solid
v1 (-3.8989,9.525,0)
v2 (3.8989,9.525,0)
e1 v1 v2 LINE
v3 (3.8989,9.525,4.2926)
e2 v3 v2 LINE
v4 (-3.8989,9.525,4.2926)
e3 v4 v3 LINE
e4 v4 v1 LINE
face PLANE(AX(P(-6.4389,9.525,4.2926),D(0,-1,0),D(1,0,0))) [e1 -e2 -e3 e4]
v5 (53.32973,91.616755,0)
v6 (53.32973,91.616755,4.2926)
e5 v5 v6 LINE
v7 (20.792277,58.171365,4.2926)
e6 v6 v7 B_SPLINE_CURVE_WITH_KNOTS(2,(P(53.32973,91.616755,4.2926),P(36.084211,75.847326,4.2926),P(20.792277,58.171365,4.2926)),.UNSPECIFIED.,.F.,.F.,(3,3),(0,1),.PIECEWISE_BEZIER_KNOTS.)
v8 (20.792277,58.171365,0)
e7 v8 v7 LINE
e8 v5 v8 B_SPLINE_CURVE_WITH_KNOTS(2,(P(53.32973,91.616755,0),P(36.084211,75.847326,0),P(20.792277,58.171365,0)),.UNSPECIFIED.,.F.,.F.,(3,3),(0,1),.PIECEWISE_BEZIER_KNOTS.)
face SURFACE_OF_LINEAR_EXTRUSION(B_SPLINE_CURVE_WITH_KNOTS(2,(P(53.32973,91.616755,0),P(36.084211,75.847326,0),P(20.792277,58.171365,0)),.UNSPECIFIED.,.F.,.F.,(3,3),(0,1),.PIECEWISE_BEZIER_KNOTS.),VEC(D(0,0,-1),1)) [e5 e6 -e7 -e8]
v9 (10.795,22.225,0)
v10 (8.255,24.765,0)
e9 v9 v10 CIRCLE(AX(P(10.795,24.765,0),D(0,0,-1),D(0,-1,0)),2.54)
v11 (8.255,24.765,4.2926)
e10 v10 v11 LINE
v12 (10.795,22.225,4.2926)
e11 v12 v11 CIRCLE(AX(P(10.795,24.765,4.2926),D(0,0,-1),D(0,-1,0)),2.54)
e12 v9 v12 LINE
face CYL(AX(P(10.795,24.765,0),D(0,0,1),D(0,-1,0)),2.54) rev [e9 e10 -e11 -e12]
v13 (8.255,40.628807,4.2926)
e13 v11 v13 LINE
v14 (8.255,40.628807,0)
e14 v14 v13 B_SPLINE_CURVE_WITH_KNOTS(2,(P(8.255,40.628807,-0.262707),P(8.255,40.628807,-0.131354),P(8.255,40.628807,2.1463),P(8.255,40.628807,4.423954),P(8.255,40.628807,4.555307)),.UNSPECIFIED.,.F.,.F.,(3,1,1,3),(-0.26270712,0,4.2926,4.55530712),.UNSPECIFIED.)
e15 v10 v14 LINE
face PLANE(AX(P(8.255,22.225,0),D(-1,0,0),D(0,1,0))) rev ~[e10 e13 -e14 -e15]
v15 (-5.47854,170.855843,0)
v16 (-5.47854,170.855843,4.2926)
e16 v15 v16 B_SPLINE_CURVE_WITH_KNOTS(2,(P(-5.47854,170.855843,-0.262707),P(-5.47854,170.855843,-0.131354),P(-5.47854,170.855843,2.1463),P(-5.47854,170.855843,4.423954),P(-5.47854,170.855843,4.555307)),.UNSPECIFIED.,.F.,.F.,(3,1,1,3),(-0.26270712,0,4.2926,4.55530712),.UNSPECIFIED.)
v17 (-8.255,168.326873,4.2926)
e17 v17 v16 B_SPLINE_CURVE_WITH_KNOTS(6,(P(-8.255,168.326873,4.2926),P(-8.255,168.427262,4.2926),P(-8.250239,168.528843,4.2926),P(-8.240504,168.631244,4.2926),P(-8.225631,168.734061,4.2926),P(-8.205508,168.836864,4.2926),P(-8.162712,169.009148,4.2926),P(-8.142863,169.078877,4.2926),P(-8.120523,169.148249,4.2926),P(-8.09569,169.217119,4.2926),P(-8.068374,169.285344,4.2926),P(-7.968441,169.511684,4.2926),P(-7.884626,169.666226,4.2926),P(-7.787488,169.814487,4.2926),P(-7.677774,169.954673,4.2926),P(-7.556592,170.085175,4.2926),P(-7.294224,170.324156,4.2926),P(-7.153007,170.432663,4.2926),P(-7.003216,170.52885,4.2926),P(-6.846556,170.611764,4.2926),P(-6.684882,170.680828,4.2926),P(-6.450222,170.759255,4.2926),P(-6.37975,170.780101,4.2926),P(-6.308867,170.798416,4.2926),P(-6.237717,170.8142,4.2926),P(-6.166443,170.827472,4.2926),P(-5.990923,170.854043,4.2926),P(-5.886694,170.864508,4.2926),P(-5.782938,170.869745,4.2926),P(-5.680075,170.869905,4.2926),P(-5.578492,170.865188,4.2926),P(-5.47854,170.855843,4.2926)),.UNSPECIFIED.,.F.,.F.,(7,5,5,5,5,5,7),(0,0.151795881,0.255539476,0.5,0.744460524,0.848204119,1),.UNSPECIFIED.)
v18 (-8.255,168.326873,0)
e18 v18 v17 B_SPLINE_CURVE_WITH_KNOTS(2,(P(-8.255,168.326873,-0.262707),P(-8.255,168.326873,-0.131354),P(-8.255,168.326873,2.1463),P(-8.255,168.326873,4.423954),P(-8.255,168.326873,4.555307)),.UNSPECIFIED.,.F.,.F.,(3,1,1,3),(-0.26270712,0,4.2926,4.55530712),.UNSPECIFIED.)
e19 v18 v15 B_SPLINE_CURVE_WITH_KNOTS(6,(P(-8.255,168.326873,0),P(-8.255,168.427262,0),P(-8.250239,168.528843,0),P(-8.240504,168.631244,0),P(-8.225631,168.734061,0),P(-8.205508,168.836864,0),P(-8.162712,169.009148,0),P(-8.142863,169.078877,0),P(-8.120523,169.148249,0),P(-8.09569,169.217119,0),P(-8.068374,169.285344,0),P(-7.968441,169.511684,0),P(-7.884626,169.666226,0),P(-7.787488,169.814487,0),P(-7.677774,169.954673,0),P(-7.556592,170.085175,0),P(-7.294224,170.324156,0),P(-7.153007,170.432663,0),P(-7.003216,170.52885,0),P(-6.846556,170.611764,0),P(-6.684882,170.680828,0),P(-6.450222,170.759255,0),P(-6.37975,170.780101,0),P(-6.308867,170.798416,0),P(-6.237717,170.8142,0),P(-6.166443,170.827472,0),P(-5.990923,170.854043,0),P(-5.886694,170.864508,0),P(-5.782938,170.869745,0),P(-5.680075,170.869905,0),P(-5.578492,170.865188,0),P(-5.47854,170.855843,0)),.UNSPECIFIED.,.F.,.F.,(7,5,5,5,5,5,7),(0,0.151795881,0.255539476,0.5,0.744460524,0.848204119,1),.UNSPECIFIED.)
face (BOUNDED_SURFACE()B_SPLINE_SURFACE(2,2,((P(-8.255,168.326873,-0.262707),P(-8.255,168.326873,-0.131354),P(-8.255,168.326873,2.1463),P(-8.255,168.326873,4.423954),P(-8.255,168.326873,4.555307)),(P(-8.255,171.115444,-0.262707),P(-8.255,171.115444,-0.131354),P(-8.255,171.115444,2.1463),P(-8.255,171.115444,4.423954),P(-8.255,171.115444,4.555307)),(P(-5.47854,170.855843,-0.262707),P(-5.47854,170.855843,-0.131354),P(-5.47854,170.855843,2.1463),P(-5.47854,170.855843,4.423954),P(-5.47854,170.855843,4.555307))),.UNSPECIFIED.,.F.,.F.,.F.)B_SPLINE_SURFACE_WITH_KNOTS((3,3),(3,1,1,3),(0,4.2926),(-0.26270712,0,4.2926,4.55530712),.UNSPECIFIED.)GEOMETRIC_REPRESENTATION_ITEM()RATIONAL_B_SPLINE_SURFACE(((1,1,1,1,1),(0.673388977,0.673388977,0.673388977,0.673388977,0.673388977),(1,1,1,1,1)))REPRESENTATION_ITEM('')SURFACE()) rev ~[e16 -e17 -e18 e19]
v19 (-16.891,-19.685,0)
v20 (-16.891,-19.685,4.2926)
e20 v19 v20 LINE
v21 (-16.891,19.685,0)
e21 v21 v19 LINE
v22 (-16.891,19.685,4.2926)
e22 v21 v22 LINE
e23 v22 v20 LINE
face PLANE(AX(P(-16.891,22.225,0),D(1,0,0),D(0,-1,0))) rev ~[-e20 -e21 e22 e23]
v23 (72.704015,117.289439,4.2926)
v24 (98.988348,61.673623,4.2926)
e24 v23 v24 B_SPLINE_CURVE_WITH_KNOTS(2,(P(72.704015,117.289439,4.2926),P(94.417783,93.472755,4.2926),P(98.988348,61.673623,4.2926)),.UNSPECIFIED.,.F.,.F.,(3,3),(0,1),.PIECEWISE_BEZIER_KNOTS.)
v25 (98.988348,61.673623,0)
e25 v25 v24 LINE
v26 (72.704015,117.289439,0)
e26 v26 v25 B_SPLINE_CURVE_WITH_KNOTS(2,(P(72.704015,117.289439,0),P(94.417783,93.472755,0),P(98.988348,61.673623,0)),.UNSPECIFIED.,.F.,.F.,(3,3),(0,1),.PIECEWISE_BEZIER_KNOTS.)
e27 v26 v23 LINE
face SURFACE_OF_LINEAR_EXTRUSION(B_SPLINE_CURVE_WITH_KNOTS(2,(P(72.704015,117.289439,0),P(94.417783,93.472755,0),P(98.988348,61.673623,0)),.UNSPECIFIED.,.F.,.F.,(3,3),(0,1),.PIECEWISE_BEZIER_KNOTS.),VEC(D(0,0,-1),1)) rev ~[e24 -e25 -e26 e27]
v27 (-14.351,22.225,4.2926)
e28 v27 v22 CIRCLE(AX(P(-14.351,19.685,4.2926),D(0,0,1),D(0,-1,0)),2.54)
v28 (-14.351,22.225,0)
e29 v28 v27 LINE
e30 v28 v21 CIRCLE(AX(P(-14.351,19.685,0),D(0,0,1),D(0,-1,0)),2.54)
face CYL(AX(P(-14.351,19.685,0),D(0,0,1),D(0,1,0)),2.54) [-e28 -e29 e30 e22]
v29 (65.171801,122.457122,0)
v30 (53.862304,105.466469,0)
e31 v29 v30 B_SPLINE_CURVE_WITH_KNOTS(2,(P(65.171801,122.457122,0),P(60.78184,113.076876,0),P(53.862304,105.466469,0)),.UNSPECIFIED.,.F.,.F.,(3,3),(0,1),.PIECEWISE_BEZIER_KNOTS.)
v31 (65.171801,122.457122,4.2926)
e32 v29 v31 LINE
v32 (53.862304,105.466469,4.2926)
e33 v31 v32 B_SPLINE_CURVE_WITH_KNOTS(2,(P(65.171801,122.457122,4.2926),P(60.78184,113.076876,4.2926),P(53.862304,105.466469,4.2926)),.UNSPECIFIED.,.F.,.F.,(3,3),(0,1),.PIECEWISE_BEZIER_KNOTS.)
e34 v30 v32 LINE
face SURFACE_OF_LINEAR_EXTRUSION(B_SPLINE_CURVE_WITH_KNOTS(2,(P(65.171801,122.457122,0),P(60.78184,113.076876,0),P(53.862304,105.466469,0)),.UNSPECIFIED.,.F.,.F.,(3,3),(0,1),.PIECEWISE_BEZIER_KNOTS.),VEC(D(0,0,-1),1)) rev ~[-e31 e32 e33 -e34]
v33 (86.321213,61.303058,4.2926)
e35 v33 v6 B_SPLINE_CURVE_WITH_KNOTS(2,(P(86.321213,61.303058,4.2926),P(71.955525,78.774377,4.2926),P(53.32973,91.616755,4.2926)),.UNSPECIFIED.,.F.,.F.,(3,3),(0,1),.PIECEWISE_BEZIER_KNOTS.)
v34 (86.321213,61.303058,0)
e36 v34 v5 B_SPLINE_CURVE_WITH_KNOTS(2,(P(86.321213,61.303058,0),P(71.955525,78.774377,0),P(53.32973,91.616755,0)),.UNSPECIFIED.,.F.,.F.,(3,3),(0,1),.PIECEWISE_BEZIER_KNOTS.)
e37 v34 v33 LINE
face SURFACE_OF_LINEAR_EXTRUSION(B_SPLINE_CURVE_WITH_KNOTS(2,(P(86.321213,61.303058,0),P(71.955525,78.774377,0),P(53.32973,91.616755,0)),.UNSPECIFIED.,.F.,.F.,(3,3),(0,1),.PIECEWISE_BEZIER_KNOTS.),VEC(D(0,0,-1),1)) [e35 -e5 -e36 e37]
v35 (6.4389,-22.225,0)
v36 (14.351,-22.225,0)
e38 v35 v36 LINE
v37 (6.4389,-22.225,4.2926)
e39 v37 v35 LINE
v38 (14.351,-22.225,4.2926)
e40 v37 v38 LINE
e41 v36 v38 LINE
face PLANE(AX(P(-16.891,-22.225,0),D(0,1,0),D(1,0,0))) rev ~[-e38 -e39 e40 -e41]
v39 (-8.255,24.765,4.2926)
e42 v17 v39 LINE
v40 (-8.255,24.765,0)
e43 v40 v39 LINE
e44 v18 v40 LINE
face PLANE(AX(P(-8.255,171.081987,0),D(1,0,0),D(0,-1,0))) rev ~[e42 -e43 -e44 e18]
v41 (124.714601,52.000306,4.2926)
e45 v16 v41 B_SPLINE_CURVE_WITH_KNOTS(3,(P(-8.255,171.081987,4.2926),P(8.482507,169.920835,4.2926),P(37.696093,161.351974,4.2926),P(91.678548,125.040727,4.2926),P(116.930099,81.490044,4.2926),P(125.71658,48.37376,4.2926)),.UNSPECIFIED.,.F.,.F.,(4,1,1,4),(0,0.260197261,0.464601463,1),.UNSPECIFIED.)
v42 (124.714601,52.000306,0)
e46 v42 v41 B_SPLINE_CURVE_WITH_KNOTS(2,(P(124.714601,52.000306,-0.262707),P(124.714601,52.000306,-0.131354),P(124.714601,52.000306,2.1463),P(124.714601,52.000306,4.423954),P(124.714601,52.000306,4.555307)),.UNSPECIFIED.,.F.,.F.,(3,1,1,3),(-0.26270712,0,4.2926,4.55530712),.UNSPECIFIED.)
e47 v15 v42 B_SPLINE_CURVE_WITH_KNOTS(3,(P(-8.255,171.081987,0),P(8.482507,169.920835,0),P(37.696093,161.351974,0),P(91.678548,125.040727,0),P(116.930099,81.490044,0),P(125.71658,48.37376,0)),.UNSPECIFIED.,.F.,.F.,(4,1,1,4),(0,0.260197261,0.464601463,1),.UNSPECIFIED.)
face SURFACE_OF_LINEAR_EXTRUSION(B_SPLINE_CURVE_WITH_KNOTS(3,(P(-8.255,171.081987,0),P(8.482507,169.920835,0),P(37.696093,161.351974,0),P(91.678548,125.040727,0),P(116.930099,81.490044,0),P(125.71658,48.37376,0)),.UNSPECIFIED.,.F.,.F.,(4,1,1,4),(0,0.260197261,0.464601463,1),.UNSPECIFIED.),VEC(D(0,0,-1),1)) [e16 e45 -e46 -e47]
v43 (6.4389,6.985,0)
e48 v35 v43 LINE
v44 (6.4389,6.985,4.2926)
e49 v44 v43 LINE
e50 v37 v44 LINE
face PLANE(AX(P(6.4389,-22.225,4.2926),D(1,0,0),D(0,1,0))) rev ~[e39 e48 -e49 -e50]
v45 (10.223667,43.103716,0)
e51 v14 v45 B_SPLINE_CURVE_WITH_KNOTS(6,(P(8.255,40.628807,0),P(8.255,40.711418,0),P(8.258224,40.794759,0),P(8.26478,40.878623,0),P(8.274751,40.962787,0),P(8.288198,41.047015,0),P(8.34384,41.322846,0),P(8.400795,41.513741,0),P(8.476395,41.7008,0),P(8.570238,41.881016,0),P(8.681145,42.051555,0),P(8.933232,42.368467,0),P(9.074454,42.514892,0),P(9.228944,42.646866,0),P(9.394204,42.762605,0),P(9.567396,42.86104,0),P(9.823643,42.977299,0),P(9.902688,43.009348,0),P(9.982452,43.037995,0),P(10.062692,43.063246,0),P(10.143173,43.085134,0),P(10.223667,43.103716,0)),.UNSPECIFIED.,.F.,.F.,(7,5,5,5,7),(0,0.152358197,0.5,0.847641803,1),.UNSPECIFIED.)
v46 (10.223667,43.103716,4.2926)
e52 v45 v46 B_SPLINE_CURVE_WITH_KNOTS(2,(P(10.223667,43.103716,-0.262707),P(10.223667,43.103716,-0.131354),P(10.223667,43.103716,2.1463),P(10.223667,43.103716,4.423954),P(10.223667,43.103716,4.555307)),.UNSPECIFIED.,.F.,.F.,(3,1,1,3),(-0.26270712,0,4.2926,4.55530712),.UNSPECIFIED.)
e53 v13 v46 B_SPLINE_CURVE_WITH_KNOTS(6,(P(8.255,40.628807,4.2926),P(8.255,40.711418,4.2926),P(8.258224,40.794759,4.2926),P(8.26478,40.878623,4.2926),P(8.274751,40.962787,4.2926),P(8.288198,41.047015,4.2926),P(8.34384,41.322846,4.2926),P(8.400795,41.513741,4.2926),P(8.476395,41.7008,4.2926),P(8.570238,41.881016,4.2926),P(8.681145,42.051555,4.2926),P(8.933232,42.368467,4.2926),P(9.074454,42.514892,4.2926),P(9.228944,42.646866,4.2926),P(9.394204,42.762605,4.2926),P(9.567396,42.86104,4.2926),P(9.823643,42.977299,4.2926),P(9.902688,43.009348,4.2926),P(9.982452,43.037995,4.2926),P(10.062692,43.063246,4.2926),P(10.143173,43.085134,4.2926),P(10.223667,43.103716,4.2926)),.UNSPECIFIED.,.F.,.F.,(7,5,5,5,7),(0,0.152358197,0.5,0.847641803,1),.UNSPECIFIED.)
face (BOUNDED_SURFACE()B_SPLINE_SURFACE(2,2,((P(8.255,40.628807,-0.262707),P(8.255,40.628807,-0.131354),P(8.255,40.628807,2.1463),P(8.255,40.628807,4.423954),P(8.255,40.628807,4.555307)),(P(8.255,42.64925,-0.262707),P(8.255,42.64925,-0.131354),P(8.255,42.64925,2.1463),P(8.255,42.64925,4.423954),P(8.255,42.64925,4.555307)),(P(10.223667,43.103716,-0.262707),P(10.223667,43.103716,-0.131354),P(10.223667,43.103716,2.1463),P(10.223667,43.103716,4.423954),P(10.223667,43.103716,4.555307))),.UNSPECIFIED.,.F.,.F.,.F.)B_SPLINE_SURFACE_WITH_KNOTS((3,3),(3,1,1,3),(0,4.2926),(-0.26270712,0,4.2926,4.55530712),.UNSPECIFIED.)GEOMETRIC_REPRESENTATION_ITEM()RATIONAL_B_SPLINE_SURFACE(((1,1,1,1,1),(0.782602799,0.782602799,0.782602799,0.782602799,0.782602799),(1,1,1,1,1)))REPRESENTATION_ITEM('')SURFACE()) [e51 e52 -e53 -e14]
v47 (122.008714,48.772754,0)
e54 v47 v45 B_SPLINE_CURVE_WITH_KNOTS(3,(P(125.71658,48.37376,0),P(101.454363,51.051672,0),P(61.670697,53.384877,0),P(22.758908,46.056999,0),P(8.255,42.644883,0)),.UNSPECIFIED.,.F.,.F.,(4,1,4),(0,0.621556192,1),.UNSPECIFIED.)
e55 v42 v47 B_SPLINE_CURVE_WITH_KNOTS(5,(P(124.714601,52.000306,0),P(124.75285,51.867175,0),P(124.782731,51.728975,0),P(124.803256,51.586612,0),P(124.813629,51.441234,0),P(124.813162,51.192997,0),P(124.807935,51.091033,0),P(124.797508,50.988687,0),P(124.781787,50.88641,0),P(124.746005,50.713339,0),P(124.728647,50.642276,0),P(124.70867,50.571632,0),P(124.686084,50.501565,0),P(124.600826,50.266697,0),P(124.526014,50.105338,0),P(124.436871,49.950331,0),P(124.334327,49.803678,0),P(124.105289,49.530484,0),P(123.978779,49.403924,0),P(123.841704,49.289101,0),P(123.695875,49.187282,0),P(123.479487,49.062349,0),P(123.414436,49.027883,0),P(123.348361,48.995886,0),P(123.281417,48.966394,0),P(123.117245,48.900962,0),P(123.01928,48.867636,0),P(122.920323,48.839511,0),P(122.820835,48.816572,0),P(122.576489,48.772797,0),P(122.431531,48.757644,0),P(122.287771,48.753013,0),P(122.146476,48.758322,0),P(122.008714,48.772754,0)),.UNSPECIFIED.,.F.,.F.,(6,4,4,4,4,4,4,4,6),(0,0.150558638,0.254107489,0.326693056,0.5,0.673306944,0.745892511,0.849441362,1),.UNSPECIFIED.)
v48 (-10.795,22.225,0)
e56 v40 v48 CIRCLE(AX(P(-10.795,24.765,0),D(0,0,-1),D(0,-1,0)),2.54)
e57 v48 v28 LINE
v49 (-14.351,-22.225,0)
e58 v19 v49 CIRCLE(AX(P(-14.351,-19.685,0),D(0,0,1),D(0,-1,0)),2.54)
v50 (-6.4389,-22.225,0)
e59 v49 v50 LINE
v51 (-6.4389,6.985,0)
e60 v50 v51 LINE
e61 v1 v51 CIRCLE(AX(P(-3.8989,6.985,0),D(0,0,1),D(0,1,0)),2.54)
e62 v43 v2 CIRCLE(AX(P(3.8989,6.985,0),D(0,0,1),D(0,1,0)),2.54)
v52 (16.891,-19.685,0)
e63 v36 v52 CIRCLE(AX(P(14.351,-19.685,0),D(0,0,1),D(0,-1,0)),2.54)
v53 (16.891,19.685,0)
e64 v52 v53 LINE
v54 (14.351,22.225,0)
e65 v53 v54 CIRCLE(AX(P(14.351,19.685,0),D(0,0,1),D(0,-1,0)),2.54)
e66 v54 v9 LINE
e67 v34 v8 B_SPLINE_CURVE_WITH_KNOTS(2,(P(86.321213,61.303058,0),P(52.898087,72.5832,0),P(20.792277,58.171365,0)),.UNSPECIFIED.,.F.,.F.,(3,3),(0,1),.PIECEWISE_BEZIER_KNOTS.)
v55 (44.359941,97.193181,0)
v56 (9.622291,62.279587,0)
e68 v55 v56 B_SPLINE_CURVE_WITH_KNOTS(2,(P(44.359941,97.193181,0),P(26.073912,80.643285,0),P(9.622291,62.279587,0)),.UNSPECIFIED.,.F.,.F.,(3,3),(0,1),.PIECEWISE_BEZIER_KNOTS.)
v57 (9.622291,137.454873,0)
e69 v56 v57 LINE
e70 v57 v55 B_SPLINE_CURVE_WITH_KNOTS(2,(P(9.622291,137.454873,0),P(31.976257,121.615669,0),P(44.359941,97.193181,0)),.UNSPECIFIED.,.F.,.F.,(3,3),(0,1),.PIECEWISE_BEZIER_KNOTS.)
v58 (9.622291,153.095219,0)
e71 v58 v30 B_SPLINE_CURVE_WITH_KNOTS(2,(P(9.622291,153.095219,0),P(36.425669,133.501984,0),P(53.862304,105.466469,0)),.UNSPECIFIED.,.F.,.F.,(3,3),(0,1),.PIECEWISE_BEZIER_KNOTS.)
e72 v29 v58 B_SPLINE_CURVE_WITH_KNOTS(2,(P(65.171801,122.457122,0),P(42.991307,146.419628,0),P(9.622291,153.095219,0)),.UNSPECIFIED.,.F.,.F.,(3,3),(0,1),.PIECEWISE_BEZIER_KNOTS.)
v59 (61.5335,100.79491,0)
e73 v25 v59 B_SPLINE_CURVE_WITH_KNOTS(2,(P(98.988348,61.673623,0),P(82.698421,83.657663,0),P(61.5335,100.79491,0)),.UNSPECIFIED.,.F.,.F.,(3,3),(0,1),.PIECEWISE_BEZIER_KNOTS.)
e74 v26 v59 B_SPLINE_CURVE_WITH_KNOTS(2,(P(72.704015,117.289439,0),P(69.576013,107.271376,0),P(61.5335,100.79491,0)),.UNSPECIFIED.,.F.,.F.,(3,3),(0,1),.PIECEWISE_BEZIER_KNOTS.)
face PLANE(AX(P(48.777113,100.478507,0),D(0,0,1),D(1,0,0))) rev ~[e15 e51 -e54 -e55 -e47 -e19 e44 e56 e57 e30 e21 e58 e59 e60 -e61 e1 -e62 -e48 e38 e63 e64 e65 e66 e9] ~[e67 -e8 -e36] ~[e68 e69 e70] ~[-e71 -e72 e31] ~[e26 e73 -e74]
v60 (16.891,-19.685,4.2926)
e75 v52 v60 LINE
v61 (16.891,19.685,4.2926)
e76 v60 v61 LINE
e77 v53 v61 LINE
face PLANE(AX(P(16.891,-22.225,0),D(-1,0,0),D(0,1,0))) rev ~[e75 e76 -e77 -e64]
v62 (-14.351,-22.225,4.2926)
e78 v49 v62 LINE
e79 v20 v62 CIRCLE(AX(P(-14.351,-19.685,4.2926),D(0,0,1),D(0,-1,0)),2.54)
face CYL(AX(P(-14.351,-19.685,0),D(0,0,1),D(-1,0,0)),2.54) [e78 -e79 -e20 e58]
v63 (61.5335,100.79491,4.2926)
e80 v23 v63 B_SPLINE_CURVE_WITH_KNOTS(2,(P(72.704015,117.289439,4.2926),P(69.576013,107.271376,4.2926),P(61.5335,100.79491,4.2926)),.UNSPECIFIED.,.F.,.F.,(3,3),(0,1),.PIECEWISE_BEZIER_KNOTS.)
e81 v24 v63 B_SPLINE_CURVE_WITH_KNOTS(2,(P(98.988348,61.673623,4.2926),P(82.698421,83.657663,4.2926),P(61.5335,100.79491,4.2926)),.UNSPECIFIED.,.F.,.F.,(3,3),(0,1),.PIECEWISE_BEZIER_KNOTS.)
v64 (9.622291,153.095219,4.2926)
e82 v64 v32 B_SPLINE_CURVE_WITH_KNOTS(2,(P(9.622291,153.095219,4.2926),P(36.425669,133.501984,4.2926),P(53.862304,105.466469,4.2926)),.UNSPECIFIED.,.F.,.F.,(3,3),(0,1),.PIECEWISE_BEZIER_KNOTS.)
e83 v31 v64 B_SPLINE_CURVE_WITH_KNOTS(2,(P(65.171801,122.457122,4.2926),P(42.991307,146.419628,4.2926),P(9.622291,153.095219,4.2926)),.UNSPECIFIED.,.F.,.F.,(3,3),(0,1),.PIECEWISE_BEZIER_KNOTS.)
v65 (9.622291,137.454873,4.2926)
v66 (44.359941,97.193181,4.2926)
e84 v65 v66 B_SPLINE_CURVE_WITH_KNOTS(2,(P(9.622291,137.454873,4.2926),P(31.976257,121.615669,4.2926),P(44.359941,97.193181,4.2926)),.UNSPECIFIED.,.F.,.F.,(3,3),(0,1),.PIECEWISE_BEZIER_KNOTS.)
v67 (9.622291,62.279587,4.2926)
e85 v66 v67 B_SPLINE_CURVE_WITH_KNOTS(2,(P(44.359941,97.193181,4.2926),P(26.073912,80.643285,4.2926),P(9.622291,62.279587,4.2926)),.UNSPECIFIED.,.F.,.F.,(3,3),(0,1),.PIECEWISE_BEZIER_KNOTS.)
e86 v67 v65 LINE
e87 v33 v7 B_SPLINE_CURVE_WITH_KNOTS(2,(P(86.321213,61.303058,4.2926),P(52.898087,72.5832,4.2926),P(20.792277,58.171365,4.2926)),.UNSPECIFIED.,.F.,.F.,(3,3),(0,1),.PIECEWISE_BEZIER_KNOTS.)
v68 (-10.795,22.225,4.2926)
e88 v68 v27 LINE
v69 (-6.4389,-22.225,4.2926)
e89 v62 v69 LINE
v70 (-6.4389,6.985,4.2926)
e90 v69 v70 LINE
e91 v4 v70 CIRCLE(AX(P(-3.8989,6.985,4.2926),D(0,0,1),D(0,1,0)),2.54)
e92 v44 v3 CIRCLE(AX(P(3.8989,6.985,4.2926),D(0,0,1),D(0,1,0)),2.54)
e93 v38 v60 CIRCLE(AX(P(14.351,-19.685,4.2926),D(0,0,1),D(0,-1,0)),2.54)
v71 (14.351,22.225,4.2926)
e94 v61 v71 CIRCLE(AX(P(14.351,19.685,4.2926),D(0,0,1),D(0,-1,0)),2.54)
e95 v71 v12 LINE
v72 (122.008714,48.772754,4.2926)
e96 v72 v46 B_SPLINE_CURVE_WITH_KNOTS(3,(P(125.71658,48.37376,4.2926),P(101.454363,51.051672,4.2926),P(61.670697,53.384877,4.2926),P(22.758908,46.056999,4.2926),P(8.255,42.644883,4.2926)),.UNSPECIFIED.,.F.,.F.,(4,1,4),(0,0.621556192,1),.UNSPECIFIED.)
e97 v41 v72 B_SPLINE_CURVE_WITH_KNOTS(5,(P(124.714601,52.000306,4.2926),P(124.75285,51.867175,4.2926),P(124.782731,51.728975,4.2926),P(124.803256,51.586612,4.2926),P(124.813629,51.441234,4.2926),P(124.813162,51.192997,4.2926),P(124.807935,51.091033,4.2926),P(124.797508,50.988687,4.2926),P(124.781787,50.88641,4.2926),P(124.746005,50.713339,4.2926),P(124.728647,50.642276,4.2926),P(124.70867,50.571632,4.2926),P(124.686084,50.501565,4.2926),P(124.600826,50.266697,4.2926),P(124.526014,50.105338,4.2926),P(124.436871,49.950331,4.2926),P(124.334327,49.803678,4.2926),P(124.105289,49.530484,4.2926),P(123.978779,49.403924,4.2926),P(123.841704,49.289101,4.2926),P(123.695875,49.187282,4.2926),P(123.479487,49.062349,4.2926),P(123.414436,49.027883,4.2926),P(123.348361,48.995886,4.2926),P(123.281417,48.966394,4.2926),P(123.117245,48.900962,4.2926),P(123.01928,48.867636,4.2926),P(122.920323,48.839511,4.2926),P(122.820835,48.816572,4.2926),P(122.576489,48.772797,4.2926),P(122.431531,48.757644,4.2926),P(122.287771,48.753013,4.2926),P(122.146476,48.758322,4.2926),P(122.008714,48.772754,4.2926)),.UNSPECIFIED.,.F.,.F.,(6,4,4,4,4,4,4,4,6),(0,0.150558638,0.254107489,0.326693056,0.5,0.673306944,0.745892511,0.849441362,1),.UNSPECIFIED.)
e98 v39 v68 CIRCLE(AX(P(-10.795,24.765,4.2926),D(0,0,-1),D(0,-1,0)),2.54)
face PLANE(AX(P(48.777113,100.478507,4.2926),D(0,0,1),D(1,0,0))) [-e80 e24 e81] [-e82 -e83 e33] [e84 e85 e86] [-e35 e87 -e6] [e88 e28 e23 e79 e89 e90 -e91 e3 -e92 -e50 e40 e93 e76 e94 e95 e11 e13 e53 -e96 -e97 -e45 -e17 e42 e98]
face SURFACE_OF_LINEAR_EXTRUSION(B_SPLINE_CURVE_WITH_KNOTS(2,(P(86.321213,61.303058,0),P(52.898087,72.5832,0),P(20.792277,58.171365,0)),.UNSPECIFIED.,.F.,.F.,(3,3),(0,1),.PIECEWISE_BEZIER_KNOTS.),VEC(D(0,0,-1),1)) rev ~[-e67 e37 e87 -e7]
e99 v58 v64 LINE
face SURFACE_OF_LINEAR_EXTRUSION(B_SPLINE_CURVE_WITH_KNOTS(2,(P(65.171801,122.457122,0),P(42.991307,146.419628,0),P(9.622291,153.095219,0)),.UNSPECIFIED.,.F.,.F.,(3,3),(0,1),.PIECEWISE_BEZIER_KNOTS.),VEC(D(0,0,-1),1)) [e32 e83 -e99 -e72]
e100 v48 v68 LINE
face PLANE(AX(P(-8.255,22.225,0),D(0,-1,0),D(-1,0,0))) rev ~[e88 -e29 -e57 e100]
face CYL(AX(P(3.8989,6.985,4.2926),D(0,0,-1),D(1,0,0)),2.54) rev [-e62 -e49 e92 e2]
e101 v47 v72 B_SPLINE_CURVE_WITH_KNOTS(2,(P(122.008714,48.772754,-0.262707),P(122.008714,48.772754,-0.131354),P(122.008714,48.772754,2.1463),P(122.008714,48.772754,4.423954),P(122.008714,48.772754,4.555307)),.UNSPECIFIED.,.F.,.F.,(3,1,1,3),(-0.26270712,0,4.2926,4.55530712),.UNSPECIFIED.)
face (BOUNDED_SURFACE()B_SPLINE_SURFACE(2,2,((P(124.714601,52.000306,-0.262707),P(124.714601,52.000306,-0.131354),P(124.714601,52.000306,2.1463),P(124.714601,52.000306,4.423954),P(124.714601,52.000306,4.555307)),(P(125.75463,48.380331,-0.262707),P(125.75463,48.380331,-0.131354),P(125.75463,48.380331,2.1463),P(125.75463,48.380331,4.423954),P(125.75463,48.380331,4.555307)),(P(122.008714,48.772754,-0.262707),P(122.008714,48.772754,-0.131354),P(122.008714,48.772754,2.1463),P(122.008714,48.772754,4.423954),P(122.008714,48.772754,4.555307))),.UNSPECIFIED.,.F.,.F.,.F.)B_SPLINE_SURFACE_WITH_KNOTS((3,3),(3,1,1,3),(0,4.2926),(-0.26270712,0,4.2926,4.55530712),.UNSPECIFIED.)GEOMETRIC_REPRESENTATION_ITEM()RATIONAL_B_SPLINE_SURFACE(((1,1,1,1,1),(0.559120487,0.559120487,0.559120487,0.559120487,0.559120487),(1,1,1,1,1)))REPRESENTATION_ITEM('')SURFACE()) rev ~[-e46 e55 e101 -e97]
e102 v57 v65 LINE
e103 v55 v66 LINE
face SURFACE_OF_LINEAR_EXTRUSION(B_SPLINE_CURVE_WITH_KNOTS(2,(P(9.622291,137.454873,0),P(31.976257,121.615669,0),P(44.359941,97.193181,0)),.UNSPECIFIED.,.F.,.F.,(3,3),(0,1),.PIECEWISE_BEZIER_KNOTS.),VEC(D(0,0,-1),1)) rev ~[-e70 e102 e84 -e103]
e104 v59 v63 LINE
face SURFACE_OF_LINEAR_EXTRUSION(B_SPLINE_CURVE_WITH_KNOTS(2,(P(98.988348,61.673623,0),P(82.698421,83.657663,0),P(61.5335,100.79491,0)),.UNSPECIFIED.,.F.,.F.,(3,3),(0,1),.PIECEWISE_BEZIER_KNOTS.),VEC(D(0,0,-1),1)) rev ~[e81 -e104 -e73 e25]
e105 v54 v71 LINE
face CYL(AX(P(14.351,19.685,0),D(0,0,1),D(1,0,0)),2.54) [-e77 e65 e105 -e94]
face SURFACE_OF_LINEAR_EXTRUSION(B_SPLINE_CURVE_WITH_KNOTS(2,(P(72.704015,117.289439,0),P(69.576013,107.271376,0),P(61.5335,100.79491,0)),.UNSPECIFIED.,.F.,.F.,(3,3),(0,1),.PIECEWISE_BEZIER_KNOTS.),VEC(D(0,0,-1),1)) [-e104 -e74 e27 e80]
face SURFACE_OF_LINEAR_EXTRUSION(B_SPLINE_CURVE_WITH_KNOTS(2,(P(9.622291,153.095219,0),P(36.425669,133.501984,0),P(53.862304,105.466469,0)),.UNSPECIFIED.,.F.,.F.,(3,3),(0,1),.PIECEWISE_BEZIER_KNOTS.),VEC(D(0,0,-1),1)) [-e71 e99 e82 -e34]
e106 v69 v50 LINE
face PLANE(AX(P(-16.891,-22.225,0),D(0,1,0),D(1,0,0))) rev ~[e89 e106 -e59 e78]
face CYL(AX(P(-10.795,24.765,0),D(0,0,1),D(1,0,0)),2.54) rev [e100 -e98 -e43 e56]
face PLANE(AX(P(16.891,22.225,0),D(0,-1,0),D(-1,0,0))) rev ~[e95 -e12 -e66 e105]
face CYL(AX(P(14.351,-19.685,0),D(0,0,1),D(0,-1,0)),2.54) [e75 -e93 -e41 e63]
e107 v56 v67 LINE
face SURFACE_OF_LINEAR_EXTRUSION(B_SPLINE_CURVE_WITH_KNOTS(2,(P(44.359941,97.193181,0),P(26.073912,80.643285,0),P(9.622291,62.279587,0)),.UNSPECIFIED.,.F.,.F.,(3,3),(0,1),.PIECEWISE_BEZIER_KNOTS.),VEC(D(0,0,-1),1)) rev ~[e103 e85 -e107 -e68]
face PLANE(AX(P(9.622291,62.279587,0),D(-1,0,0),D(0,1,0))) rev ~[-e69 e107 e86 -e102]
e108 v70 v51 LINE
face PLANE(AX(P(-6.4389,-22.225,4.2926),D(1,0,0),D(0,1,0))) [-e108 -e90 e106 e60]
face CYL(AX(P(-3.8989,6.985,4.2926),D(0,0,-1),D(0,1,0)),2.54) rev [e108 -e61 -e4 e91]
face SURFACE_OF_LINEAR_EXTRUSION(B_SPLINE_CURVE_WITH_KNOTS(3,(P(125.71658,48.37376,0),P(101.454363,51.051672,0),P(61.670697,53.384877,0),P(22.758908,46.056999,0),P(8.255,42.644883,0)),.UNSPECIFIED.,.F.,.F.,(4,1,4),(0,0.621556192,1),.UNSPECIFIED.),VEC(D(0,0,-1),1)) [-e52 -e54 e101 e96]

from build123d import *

# Parameters (mm, degrees)
SKETCH1_W           = 16.51
SKETCH1_H           = 22.225
BOSS_EXTRUDE1_DEPTH = 4.2926
FILLET1_R           = 2.54
SKETCH3_W           = 12.8778
SKETCH3_H           = 31.75
CUT_EXTRUDE1_DEPTH  = 4.2926
FILLET2_R           = 2.54
CUT_EXTRUDE2_DEPTH  = 4.2926


with BuildPart() as part:
    # Sketch1 → Boss-Extrude1 (new body)
    with BuildSketch(Plane.XY):
        with BuildLine():
            Line((-8.255, 171.081987477), (-8.255, 146.05))
            Line((-8.255, 146.05), (8.255, 146.05))
            Line((8.255, 146.05), (8.255, 42.644883355))
            add(Edge.make_bspline(
                [(125.716580007, 48.373759919), (101.454363005, 51.05167226), (61.670696801, 53.384876658), (22.758908367, 46.056998678), (8.255, 42.644883355)],
                knots=[0, 0, 0, 0, 0.621556192, 1, 1, 1, 1], degree=3))
            add(Edge.make_bspline(
                [(-8.255, 171.081987477), (8.482506786, 169.920834594), (37.696093446, 161.351973623), (91.678547842, 125.040727361), (116.930099327, 81.490043726), (125.716580007, 48.373759919)],
                knots=[0, 0, 0, 0, 0.260197261, 0.464601463, 1, 1, 1, 1], degree=3))
        make_face()
        Polygon((-8.255, 146.05), (-8.255, 22.225), (8.255, 22.225), (8.255, 42.644883355), (8.255, 146.05), align=None)
        with Locations((0, 11.1125)):
            Rectangle(SKETCH1_W, SKETCH1_H)
        Polygon((-16.891, 22.225), (-16.891, -22.225), (16.891, -22.225), (16.891, 22.225), (8.255, 22.225), (8.255, 0), (-8.255, 0), (-8.255, 22.225), align=None)
    extrude(amount=BOSS_EXTRUDE1_DEPTH)

    # Fillet1
    fillet1_edges = [part.edges().sort_by_distance(p)[0] for p in [
        (16.891, 22.225, 2.1463),
        (16.891, -22.225, 2.1463),
        (-16.891, -22.225, 2.1463),
        (-16.891, 22.225, 2.1463),
        (-8.255, 22.225, 2.1463),
        (8.255, 42.644883355, 2.1463),
        (8.255, 22.225, 2.1463),
    ]]
    fillet(fillet1_edges, radius=FILLET1_R)

    # Sketch3 → Cut-Extrude1 (cut)
    with BuildSketch(Plane.XY.offset(4.2926)):
        with Locations((0, -6.35)):
            Rectangle(SKETCH3_W, SKETCH3_H)
    extrude(amount=-CUT_EXTRUDE1_DEPTH, mode=Mode.SUBTRACT)

    # Fillet2
    fillet2_edges = [part.edges().sort_by_distance(p)[0] for p in [
        (6.4389, 9.525, 2.1463),
        (-6.4389, 9.525, 2.1463),
        (125.716580007, 48.373759919, 2.1463),
        (-8.255, 171.081987477, 2.1463),
    ]]
    fillet(fillet2_edges, radius=FILLET2_R)

    # Sketch4 → Cut-Extrude2 (cut)
    with BuildSketch(Plane(origin=(0, 0, 0), x_dir=(-1, 0, 0), z_dir=(0, 0, -1))):
        with BuildLine():
            Line((-9.622290965, 62.279587003), (-9.622290965, 137.454872526))
            add(Edge.make_bspline(
                [(-9.622290965, 137.454872526), (-31.976257123, 121.615669166), (-44.359940554, 97.193181134)],
                knots=[0, 0, 0, 1, 1, 1], degree=2))
            add(Edge.make_bspline(
                [(-44.359940554, 97.193181134), (-26.073912196, 80.643285354), (-9.622290965, 62.279587003)],
                knots=[0, 0, 0, 1, 1, 1], degree=2))
        make_face()
        with BuildLine():
            add(Edge.make_bspline(
                [(-65.171801242, 122.457122028), (-42.991307033, 146.419627916), (-9.622290965, 153.095219352)],
                knots=[0, 0, 0, 1, 1, 1], degree=2))
            add(Edge.make_bspline(
                [(-9.622290965, 153.095219352), (-36.425668846, 133.501984123), (-53.862303727, 105.466469115)],
                knots=[0, 0, 0, 1, 1, 1], degree=2))
            add(Edge.make_bspline(
                [(-65.171801242, 122.457122028), (-60.781840314, 113.076876159), (-53.862303727, 105.466469115)],
                knots=[0, 0, 0, 1, 1, 1], degree=2))
        make_face()
        with BuildLine():
            add(Edge.make_bspline(
                [(-72.704015401, 117.289439294), (-94.417782838, 93.472755404), (-98.988348102, 61.673623274)],
                knots=[0, 0, 0, 1, 1, 1], degree=2))
            add(Edge.make_bspline(
                [(-98.988348102, 61.673623274), (-82.698421223, 83.657662509), (-61.533499928, 100.794910417)],
                knots=[0, 0, 0, 1, 1, 1], degree=2))
            add(Edge.make_bspline(
                [(-72.704015401, 117.289439294), (-69.576013453, 107.271375671), (-61.533499928, 100.794910417)],
                knots=[0, 0, 0, 1, 1, 1], degree=2))
        make_face()
        with BuildLine():
            add(Edge.make_bspline(
                [(-86.321212925, 61.303058161), (-71.955525072, 78.774376711), (-53.329729843, 91.61675501)],
                knots=[0, 0, 0, 1, 1, 1], degree=2))
            add(Edge.make_bspline(
                [(-53.329729843, 91.61675501), (-36.084210617, 75.847325958), (-20.792276935, 58.171365413)],
                knots=[0, 0, 0, 1, 1, 1], degree=2))
            add(Edge.make_bspline(
                [(-86.321212925, 61.303058161), (-52.898087225, 72.583199638), (-20.792276935, 58.171365413)],
                knots=[0, 0, 0, 1, 1, 1], degree=2))
        make_face()
    extrude(amount=-CUT_EXTRUDE2_DEPTH, mode=Mode.SUBTRACT)


solid = part.part
